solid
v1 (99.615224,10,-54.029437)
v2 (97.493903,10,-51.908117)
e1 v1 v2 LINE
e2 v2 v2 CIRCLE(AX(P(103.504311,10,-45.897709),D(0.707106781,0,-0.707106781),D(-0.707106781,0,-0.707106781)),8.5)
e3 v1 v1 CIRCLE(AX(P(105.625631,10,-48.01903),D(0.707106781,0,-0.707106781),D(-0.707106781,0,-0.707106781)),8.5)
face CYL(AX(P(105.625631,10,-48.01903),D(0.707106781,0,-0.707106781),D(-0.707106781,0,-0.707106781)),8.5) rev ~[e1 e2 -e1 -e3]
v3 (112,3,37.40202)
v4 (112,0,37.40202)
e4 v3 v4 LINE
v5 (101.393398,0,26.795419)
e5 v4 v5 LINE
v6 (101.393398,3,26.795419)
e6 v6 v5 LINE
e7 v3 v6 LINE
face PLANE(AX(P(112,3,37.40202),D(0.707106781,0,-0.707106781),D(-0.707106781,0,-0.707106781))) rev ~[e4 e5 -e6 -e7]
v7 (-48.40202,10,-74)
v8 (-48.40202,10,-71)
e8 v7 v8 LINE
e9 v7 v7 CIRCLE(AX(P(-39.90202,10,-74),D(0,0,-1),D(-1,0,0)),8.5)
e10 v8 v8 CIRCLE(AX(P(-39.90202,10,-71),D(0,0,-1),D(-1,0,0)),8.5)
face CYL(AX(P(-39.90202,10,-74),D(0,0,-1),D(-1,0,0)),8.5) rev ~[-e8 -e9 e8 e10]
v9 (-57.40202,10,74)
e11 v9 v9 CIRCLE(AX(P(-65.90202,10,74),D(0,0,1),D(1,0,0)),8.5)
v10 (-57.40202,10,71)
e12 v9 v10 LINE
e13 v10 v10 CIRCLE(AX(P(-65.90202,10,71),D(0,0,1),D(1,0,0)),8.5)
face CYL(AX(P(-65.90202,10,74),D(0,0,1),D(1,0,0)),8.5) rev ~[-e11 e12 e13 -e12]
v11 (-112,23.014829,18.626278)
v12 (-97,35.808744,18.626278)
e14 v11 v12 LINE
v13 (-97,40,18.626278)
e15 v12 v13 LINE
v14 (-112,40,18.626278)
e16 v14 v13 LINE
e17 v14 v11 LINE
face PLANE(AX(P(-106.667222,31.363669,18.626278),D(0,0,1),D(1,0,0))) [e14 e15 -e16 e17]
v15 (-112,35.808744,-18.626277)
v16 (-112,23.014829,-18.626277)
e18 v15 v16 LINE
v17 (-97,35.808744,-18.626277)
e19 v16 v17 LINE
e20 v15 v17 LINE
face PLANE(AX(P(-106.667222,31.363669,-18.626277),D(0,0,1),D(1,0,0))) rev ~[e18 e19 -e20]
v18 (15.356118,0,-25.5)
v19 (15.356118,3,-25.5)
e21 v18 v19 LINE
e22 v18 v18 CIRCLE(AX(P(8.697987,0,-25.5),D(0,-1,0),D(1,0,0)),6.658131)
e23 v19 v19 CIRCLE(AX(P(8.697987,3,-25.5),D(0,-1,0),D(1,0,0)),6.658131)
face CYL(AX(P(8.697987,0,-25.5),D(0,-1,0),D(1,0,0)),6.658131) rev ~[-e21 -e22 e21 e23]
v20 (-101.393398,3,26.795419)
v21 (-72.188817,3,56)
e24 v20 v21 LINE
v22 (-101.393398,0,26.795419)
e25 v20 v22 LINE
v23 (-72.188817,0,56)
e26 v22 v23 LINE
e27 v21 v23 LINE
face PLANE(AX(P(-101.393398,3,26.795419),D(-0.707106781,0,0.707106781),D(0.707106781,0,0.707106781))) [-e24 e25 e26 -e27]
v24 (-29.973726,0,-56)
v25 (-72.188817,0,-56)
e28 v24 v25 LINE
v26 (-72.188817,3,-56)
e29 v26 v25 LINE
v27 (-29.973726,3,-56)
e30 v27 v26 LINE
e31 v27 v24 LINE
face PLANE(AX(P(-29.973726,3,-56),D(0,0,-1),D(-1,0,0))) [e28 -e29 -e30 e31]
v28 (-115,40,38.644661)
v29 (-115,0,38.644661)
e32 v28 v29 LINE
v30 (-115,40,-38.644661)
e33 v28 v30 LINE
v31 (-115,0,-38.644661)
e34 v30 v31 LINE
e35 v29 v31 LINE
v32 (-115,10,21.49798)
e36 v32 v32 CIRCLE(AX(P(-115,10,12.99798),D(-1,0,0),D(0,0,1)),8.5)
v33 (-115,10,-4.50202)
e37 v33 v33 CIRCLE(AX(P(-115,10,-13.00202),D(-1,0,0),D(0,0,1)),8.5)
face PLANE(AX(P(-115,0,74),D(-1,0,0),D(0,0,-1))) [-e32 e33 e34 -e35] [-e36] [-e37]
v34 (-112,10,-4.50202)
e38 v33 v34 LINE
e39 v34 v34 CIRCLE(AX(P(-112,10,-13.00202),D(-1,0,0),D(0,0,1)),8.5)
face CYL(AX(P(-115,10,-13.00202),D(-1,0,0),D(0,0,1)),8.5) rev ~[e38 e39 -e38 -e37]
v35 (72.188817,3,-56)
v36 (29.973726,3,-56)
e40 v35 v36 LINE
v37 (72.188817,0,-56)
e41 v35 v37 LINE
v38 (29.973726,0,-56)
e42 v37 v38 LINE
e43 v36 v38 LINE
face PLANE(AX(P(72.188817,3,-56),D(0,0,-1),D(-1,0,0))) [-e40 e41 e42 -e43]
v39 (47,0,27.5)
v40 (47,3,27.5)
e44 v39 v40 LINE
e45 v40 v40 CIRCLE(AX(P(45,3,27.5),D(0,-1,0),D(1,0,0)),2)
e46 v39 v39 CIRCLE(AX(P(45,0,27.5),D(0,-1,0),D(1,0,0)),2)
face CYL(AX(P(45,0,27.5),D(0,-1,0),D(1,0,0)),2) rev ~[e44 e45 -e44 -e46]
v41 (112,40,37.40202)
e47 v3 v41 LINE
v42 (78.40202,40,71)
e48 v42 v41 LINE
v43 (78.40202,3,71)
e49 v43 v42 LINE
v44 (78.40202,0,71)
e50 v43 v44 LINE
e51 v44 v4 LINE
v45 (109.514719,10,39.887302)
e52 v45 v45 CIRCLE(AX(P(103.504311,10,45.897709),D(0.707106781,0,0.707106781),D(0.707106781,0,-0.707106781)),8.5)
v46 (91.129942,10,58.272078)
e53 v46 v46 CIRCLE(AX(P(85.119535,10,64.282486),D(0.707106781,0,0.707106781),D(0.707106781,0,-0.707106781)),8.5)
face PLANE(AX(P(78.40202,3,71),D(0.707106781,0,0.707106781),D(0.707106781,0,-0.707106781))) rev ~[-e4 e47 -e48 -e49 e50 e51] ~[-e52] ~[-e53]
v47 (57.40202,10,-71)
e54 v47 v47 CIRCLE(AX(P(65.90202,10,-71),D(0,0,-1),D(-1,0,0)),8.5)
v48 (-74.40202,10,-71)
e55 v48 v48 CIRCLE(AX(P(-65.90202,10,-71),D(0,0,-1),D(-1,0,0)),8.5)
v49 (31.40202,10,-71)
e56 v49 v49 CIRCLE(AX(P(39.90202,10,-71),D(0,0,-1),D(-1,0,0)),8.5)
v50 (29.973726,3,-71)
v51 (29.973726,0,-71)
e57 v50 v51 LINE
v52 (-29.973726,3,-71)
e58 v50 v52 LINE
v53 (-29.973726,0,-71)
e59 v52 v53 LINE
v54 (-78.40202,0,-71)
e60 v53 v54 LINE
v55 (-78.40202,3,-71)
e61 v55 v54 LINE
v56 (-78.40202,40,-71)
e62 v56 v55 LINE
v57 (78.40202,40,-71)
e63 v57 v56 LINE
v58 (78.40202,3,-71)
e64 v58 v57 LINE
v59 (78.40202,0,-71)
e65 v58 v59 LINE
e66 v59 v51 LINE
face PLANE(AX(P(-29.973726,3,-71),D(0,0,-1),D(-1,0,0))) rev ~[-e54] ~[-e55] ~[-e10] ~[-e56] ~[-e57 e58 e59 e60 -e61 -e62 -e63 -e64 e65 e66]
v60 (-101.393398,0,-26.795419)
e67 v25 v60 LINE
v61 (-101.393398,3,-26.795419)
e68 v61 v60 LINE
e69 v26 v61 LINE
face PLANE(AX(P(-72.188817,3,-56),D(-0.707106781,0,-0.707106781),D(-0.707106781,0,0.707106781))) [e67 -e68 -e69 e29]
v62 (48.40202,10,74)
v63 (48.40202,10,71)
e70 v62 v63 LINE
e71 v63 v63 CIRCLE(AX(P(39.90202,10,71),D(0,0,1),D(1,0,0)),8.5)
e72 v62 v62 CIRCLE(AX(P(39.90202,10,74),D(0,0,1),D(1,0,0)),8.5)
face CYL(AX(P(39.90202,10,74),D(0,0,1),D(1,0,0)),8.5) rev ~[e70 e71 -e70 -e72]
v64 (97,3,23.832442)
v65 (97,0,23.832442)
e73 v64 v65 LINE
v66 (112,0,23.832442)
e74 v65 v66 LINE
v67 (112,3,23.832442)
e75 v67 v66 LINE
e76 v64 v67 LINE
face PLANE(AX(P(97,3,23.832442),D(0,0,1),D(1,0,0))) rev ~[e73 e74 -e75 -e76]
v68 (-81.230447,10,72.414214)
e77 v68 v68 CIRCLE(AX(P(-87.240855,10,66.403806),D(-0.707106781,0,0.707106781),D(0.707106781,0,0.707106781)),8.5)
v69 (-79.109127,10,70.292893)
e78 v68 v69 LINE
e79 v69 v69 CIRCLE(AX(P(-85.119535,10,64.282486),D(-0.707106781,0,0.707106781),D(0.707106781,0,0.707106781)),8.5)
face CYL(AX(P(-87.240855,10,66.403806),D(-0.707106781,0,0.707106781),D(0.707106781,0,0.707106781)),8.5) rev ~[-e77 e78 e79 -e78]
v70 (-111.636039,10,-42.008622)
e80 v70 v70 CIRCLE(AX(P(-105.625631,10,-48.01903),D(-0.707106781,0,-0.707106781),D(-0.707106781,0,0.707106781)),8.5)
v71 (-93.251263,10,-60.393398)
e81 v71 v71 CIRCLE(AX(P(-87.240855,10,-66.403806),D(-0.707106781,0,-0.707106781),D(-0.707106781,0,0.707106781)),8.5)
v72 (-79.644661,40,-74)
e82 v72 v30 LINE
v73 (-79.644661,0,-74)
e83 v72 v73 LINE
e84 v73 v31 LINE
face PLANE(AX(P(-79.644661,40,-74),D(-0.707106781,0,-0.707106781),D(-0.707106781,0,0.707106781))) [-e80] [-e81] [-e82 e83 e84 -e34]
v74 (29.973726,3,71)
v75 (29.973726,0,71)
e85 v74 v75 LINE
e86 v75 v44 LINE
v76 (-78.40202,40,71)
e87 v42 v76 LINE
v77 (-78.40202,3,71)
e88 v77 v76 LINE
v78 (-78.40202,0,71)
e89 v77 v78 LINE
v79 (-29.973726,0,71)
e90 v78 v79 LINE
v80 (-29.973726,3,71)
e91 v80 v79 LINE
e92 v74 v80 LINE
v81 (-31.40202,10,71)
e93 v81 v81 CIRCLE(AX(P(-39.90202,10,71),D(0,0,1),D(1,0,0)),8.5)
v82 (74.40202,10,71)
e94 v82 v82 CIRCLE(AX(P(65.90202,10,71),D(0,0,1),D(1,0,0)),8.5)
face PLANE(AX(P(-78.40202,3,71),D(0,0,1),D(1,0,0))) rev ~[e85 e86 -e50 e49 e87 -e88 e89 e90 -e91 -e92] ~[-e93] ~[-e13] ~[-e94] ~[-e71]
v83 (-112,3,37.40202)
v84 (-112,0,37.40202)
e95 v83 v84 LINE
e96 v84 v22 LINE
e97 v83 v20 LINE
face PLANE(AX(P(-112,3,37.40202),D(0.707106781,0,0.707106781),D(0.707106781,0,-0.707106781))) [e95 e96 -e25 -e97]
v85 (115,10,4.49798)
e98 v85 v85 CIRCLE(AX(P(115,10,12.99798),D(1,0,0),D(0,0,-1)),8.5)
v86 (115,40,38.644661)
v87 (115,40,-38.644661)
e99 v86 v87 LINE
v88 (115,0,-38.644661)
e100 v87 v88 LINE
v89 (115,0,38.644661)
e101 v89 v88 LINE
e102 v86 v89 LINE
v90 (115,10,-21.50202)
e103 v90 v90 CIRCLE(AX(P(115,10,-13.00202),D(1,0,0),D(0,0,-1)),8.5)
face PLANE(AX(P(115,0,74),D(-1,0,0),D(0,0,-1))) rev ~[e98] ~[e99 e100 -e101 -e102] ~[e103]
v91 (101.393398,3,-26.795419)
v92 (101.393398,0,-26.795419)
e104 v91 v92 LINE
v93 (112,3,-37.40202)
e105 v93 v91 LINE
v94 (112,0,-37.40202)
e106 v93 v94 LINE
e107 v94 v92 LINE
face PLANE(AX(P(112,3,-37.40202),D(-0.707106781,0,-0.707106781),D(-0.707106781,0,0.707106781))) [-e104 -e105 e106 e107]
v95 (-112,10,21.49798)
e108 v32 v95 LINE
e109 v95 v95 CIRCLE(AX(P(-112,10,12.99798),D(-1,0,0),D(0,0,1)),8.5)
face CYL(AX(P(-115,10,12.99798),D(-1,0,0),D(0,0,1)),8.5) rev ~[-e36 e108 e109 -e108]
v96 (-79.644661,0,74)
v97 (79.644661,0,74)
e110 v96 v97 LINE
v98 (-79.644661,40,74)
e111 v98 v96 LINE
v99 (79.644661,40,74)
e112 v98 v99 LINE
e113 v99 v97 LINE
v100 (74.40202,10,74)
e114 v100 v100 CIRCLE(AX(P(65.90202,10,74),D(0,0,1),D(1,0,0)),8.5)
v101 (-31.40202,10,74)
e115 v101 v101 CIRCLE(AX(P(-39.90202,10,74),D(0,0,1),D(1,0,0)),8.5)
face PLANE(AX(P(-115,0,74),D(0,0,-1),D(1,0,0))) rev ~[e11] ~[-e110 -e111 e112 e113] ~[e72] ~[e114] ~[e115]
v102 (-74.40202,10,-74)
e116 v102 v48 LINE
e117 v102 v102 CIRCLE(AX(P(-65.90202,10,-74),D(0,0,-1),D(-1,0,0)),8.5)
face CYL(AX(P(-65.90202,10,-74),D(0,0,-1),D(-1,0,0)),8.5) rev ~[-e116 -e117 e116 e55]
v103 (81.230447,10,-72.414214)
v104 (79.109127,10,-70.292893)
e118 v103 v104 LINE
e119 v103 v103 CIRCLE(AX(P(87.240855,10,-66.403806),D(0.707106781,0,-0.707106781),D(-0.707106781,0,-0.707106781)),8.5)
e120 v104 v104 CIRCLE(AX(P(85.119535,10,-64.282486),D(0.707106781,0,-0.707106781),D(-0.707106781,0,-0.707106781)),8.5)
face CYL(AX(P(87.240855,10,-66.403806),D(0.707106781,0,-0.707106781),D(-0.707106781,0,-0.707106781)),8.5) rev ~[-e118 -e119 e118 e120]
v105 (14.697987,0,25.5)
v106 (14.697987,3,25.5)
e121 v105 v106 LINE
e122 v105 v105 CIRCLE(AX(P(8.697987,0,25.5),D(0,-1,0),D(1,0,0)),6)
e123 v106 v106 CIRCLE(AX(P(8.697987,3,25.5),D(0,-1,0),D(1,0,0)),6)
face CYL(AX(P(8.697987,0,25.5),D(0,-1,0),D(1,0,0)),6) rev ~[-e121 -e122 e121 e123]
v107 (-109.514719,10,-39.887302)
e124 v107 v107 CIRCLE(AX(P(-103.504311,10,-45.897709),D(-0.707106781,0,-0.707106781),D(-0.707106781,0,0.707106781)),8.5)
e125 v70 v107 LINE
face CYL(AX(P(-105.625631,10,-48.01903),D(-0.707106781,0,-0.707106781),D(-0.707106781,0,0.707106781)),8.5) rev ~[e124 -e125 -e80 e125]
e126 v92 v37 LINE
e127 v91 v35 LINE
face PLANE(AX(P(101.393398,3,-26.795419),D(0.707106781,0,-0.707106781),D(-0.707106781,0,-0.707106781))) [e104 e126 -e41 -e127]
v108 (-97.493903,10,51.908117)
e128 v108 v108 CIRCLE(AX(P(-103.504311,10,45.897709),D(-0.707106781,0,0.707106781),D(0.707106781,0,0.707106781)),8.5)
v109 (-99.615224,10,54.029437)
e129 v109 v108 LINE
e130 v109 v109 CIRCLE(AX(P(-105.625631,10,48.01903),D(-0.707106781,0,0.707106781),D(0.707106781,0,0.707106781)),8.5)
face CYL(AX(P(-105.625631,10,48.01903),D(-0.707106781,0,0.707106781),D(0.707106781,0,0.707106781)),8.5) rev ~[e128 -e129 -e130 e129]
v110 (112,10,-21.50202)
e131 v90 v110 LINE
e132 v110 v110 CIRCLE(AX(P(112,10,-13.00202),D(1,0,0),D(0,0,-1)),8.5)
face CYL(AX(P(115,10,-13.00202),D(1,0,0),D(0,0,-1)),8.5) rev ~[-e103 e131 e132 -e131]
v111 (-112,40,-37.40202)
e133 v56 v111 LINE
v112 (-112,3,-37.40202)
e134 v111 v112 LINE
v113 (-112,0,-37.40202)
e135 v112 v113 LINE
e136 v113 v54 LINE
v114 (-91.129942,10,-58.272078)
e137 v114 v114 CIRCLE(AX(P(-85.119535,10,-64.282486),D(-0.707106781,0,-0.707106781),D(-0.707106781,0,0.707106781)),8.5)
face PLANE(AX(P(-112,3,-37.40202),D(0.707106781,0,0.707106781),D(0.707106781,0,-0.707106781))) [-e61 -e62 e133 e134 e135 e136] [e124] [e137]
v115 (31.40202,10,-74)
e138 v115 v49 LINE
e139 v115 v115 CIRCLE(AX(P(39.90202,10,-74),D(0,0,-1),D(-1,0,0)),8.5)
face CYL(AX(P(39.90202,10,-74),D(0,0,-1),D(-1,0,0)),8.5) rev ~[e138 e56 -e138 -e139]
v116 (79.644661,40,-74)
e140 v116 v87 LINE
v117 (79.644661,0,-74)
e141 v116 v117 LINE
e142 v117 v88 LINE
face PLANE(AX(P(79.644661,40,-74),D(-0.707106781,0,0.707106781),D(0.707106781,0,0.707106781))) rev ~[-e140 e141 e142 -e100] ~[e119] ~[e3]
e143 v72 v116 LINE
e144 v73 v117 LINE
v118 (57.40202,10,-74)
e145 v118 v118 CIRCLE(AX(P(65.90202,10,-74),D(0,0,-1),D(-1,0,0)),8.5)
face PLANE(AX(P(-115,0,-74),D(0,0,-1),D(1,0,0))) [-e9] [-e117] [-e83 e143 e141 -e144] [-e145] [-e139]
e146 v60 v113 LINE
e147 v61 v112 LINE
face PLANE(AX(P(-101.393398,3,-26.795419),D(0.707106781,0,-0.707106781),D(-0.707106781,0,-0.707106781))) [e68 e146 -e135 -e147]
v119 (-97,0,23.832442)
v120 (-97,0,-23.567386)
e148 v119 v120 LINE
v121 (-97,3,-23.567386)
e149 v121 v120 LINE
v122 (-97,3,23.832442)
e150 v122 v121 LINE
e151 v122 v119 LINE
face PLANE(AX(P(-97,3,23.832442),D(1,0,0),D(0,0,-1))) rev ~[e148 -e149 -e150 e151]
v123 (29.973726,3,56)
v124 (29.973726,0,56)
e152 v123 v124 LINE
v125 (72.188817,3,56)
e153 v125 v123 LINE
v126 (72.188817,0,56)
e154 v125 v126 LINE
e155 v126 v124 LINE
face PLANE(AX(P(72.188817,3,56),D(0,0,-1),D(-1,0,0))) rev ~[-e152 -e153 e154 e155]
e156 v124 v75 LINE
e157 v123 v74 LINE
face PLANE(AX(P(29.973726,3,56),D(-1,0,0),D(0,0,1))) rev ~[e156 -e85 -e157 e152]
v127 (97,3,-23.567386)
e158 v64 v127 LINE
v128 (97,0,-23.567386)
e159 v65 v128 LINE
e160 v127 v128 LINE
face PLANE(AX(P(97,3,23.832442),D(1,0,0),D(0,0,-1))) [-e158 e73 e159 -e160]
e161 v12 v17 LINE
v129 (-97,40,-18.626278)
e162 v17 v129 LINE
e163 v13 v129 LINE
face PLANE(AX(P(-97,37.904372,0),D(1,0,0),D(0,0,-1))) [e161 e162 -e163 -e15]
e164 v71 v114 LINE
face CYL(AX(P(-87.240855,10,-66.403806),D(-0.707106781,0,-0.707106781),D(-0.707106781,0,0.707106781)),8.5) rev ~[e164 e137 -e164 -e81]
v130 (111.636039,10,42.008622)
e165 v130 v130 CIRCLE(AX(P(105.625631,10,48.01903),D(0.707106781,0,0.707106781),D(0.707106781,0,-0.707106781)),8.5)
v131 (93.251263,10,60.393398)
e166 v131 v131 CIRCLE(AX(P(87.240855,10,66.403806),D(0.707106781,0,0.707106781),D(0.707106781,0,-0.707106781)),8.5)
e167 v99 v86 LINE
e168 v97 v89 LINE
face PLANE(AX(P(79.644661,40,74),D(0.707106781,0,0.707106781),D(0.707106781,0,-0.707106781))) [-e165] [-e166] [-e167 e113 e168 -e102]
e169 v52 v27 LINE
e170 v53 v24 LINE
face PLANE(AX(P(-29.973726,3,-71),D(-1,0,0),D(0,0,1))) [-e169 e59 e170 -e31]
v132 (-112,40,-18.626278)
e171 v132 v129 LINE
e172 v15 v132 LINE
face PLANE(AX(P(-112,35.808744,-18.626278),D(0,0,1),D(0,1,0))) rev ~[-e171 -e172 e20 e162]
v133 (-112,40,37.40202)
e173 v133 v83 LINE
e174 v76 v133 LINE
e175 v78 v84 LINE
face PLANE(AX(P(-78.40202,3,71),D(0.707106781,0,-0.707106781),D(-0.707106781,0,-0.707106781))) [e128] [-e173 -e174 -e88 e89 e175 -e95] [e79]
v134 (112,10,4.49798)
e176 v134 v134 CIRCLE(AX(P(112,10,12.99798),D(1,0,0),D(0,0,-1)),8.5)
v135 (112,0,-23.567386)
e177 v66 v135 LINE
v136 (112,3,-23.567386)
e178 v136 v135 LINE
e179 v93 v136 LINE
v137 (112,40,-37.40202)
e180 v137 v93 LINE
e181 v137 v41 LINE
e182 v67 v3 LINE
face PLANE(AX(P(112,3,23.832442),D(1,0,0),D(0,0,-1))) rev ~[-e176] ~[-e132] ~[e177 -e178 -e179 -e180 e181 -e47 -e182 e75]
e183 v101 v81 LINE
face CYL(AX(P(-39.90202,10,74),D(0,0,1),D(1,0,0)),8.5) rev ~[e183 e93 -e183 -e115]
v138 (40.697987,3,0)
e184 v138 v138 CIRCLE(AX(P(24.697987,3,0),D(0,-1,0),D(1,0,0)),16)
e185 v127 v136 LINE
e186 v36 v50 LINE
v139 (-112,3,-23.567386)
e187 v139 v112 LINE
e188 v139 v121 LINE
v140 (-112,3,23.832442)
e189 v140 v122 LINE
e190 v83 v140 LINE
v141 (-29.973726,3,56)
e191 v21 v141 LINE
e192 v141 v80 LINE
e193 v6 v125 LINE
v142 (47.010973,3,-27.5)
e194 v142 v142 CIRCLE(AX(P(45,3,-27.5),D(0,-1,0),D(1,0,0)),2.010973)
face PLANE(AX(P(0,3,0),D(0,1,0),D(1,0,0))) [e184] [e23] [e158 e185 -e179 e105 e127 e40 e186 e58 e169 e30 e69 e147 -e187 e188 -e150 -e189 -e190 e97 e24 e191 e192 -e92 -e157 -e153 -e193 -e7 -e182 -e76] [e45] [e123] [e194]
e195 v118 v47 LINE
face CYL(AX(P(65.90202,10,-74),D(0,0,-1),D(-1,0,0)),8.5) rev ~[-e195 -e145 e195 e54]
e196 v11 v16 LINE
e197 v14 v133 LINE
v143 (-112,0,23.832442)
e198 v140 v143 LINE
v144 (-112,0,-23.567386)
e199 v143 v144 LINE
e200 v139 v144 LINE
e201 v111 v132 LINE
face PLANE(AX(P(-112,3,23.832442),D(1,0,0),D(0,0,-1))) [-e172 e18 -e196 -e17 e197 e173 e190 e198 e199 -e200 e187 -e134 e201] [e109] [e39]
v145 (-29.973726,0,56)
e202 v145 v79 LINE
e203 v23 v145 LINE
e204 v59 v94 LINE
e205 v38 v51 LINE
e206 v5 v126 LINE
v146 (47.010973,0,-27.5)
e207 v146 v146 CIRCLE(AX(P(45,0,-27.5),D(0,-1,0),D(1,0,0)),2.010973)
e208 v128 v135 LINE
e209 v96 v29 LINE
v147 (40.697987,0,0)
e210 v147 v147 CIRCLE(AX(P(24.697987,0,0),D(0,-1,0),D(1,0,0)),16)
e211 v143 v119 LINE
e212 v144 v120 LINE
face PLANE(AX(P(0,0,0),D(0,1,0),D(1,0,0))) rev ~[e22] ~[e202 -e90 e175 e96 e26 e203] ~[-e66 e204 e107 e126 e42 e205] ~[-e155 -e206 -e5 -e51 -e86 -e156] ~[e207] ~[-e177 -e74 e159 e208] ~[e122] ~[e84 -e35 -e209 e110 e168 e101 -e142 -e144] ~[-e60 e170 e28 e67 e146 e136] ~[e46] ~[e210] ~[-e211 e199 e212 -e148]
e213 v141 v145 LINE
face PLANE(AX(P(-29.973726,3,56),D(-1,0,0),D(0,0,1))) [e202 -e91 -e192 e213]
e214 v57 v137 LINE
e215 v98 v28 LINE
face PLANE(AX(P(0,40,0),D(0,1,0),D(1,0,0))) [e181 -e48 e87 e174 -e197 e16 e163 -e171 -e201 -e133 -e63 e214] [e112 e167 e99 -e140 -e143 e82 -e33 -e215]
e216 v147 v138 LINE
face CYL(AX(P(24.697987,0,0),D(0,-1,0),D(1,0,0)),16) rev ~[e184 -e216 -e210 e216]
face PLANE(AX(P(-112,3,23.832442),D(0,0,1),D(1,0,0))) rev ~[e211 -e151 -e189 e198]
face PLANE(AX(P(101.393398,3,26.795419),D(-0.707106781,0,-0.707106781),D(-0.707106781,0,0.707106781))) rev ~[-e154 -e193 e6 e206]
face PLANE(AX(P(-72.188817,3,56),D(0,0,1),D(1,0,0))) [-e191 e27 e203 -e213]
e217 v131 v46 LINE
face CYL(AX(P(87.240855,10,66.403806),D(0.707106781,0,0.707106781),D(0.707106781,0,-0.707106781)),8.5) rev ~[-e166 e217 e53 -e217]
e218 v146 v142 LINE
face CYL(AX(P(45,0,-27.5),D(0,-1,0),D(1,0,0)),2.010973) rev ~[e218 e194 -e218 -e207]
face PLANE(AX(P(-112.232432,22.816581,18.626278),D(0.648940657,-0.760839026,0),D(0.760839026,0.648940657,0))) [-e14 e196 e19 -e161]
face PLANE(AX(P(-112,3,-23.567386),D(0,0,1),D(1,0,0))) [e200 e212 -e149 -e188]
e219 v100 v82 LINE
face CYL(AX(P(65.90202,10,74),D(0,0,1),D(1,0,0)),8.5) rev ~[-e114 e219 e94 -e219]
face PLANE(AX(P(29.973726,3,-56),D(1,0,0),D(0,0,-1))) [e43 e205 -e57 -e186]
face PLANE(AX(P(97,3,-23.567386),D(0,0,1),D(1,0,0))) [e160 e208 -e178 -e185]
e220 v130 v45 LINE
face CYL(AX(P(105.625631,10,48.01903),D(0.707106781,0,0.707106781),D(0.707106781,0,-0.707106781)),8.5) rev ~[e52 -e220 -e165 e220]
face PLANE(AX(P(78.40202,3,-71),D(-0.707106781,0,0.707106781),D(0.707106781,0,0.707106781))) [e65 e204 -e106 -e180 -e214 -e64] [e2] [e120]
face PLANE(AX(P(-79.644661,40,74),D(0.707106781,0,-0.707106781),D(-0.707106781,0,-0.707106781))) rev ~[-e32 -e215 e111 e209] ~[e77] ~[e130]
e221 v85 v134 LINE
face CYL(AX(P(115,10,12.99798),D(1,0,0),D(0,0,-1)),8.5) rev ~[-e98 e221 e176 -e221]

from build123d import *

# Parameters (mm, degrees)
SKETCH2_W               = 230
SKETCH2_H               = 148
BOSS_EXTRUDE1_DEPTH     = 40
CUT_EXTRUDE2_DEPTH      = 126
SHELL2_T                = -3
SKETCH6_R               = 16
SKETCH6_R_2             = 6
SKETCH6_R_3             = 2
SKETCH6_R_4             = 6.65813103
SKETCH6_R_5             = 2.01097319
CUT_EXTRUDE3_DEPTH      = 126
SKETCH8_W               = 15
SKETCH8_H               = 47.399828673
CUT_EXTRUDE4_DEPTH      = 10
SKETCH12_R              = 8.5
CUT_EXTRUDE7_DEPTH      = 4
CUT_EXTRUDE7_DEPTH_BACK = 13
SKETCH13_R              = 8.5
CUT_EXTRUDE8_DEPTH      = 10
SKETCH14_R              = 8.5
CUT_EXTRUDE9_DEPTH      = 10
SKETCH15_R              = 8.5
CUT_EXTRUDE10_DEPTH     = 10
SKETCH16_R              = 8.5
CUT_EXTRUDE11_DEPTH     = 10
SKETCH17_R              = 8.5
CUT_EXTRUDE12_DEPTH     = 10
SKETCH18_R              = 8.5
CUT_EXTRUDE13_DEPTH     = 10
SKETCH19_R              = 8.5
CUT_EXTRUDE14_DEPTH     = 10
SKETCH23_W              = 37.252555384
SKETCH23_H              = 4.191255607
BOSS_EXTRUDE2_DEPTH     = 15
BOSS_EXTRUDE3_DEPTH     = 37.252555


with BuildPart() as part:
    # Sketch2 → Boss-Extrude1 (new body)
    with BuildSketch(Plane(origin=(0, 0, 0), x_dir=(1, 0, 0), z_dir=(0, 1, 0))):
        Rectangle(SKETCH2_W, SKETCH2_H)
    extrude(amount=BOSS_EXTRUDE1_DEPTH)

    # Sketch4 → Cut-Extrude2 (cut)
    with BuildSketch(Plane(origin=(0, 40, 0), x_dir=(1, 0, 0), z_dir=(0, 1, 0))):
        Polygon((-79.644660941, 74), (-115, 38.644660941), (-115, 74), align=None)
        Polygon((115, 74), (79.644660941, 74), (115, 38.644660941), align=None)
        Polygon((115, -38.644660941), (115, -74), (79.644660941, -74), align=None)
        Polygon((-115, -74), (-79.644660941, -74), (-115, -38.644660941), align=None)
    extrude(amount=-CUT_EXTRUDE2_DEPTH, mode=Mode.SUBTRACT)

    # Shell2
    shell2_openings = [part.faces().sort_by_distance(p)[0] for p in [
        (0, 40, 0),
    ]]
    offset(amount=SHELL2_T, openings=shell2_openings, kind=Kind.INTERSECTION)

    # Sketch6 → Cut-Extrude3 (cut)
    with BuildSketch(Plane.XZ):
        with Locations((24.697986577, 0)):
            Circle(SKETCH6_R)
        with Locations((8.697986577, 25.5)):
            Circle(SKETCH6_R_2)
        with Locations((45, 27.5)):
            Circle(SKETCH6_R_3)
        with Locations((8.697986577, -25.5)):
            Circle(SKETCH6_R_4)
        with Locations((45, -27.5)):
            Circle(SKETCH6_R_5)
    extrude(amount=-CUT_EXTRUDE3_DEPTH, mode=Mode.SUBTRACT)

    # Sketch8 → Cut-Extrude4 (cut)
    with BuildSketch(Plane(origin=(0, 3, 0), x_dir=(1, 0, 0), z_dir=(0, 1, 0))):
        Polygon((-75.93928893, 71), (-29.973726036, 71), (-29.973726036, 56), (-72.188816818, 56), (-101.393398282, 26.795418536), (-112, 37.402020254), (-78.402020254, 71), align=None)
        with Locations((104.5, -0.132528068)):
            Rectangle(SKETCH8_W, SKETCH8_H)
        with Locations((-104.5, -0.132528068)):
            Rectangle(SKETCH8_W, SKETCH8_H)
        Polygon((101.393398282, 26.795418536), (72.188816818, 56), (29.973726036, 56), (29.973726036, 71), (75.93928893, 71), (78.402020254, 71), (112, 37.402020254), align=None)
        Polygon((112, -37.402020254), (101.393398282, -26.795418536), (72.188816818, -56), (29.973726036, -56), (29.973726036, -71), (75.93928893, -71), (78.402020254, -71), align=None)
        Polygon((-101.393398282, -26.795418536), (-72.188816818, -56), (-29.973726036, -56), (-29.973726036, -71), (-75.93928893, -71), (-78.402020254, -71), (-112, -37.402020254), align=None)
    extrude(amount=-CUT_EXTRUDE4_DEPTH, mode=Mode.SUBTRACT)

    # Sketch12 → Cut-Extrude7 (cut, two sides)
    with BuildSketch(Plane.XY.offset(74)) as cut_extrude7_sk:
        with Locations((-65.902020254, 10)):
            Circle(SKETCH12_R)
        with Locations((-39.902020254, 10)):
            Circle(SKETCH12_R)
        with Locations((39.902020254, 10)):
            Circle(SKETCH12_R)
        with Locations((65.902020254, 10)):
            Circle(SKETCH12_R)
    extrude(amount=CUT_EXTRUDE7_DEPTH, mode=Mode.SUBTRACT)
    extrude(cut_extrude7_sk.sketch, amount=-CUT_EXTRUDE7_DEPTH_BACK, mode=Mode.SUBTRACT)

    # Sketch13 → Cut-Extrude8 (cut)
    with BuildSketch(Plane(origin=(0, 0, -74), x_dir=(-1, 0, 0), z_dir=(0, 0, -1))):
        with Locations((-39.902020254, 10)):
            Circle(SKETCH13_R)
        with Locations((-65.902020254, 10)):
            Circle(SKETCH13_R)
        with Locations((39.902020254, 10)):
            Circle(SKETCH13_R)
        with Locations((65.902020254, 10)):
            Circle(SKETCH13_R)
    extrude(amount=-CUT_EXTRUDE8_DEPTH, mode=Mode.SUBTRACT)

    # Sketch14 → Cut-Extrude9 (cut)
    with BuildSketch(Plane.ZY.offset(115)):
        with Locations((12.997979746, 10)):
            Circle(SKETCH14_R)
        with Locations((-13.002020254, 10)):
            Circle(SKETCH14_R)
    extrude(amount=-CUT_EXTRUDE9_DEPTH, mode=Mode.SUBTRACT)

    # Sketch15 → Cut-Extrude10 (cut)
    with BuildSketch(Plane(origin=(-76.82233047, 0, -76.82233047), x_dir=(-0.707106781, 0, 0.707106781), z_dir=(-0.707106781, 0, -0.707106781))):
        with Locations((14.734018716, 10)):
            Circle(SKETCH15_R)
        with Locations((40.734018716, 10)):
            Circle(SKETCH15_R)
    extrude(amount=-CUT_EXTRUDE10_DEPTH, mode=Mode.SUBTRACT)

    # Sketch16 → Cut-Extrude11 (cut)
    with BuildSketch(Plane(origin=(-76.82233047, 0, 76.82233047), x_dir=(0.707106781, 0, 0.707106781), z_dir=(-0.707106781, 0, 0.707106781))):
        with Locations((-40.734018716, 10)):
            Circle(SKETCH16_R)
        with Locations((-14.734018716, 10)):
            Circle(SKETCH16_R)
    extrude(amount=-CUT_EXTRUDE11_DEPTH, mode=Mode.SUBTRACT)

    # Sketch17 → Cut-Extrude12 (cut)
    with BuildSketch(Plane(origin=(115, 0, 0), x_dir=(0, 0, -1), z_dir=(1, 0, 0))):
        with Locations((13.002020254, 10)):
            Circle(SKETCH17_R)
        with Locations((-12.997979746, 10)):
            Circle(SKETCH17_R)
    extrude(amount=-CUT_EXTRUDE12_DEPTH, mode=Mode.SUBTRACT)

    # Sketch18 → Cut-Extrude13 (cut)
    with BuildSketch(Plane(origin=(76.82233047, 0, 76.82233047), x_dir=(0.707106781, 0, -0.707106781), z_dir=(0.707106781, 0, 0.707106781))):
        with Locations((40.734018716, 10)):
            Circle(SKETCH18_R)
        with Locations((14.734018716, 10)):
            Circle(SKETCH18_R)
    extrude(amount=-CUT_EXTRUDE13_DEPTH, mode=Mode.SUBTRACT)

    # Sketch19 → Cut-Extrude14 (cut)
    with BuildSketch(Plane(origin=(76.82233047, 0, -76.82233047), x_dir=(-0.707106781, 0, -0.707106781), z_dir=(0.707106781, 0, -0.707106781))):
        with Locations((-40.734018716, 10)):
            Circle(SKETCH19_R)
        with Locations((-14.734018716, 10)):
            Circle(SKETCH19_R)
    extrude(amount=-CUT_EXTRUDE14_DEPTH, mode=Mode.SUBTRACT)

    # Sketch23 → Boss-Extrude2 (add)
    with BuildSketch(Plane(origin=(-112, 0, 0), x_dir=(0, 0, -1), z_dir=(1, 0, 0))):
        with Locations((0, 37.904372197)):
            Rectangle(SKETCH23_W, SKETCH23_H)
    extrude(amount=BOSS_EXTRUDE2_DEPTH)

    # Sketch26 → Boss-Extrude3 (add)
    with BuildSketch(Plane.XY.offset(18.626277692)):
        Polygon((-112.232432426, 35.808744393), (-112.232432426, 22.816581324), (-97, 35.808744393), align=None)
    extrude(amount=-BOSS_EXTRUDE3_DEPTH)


solid = part.part
